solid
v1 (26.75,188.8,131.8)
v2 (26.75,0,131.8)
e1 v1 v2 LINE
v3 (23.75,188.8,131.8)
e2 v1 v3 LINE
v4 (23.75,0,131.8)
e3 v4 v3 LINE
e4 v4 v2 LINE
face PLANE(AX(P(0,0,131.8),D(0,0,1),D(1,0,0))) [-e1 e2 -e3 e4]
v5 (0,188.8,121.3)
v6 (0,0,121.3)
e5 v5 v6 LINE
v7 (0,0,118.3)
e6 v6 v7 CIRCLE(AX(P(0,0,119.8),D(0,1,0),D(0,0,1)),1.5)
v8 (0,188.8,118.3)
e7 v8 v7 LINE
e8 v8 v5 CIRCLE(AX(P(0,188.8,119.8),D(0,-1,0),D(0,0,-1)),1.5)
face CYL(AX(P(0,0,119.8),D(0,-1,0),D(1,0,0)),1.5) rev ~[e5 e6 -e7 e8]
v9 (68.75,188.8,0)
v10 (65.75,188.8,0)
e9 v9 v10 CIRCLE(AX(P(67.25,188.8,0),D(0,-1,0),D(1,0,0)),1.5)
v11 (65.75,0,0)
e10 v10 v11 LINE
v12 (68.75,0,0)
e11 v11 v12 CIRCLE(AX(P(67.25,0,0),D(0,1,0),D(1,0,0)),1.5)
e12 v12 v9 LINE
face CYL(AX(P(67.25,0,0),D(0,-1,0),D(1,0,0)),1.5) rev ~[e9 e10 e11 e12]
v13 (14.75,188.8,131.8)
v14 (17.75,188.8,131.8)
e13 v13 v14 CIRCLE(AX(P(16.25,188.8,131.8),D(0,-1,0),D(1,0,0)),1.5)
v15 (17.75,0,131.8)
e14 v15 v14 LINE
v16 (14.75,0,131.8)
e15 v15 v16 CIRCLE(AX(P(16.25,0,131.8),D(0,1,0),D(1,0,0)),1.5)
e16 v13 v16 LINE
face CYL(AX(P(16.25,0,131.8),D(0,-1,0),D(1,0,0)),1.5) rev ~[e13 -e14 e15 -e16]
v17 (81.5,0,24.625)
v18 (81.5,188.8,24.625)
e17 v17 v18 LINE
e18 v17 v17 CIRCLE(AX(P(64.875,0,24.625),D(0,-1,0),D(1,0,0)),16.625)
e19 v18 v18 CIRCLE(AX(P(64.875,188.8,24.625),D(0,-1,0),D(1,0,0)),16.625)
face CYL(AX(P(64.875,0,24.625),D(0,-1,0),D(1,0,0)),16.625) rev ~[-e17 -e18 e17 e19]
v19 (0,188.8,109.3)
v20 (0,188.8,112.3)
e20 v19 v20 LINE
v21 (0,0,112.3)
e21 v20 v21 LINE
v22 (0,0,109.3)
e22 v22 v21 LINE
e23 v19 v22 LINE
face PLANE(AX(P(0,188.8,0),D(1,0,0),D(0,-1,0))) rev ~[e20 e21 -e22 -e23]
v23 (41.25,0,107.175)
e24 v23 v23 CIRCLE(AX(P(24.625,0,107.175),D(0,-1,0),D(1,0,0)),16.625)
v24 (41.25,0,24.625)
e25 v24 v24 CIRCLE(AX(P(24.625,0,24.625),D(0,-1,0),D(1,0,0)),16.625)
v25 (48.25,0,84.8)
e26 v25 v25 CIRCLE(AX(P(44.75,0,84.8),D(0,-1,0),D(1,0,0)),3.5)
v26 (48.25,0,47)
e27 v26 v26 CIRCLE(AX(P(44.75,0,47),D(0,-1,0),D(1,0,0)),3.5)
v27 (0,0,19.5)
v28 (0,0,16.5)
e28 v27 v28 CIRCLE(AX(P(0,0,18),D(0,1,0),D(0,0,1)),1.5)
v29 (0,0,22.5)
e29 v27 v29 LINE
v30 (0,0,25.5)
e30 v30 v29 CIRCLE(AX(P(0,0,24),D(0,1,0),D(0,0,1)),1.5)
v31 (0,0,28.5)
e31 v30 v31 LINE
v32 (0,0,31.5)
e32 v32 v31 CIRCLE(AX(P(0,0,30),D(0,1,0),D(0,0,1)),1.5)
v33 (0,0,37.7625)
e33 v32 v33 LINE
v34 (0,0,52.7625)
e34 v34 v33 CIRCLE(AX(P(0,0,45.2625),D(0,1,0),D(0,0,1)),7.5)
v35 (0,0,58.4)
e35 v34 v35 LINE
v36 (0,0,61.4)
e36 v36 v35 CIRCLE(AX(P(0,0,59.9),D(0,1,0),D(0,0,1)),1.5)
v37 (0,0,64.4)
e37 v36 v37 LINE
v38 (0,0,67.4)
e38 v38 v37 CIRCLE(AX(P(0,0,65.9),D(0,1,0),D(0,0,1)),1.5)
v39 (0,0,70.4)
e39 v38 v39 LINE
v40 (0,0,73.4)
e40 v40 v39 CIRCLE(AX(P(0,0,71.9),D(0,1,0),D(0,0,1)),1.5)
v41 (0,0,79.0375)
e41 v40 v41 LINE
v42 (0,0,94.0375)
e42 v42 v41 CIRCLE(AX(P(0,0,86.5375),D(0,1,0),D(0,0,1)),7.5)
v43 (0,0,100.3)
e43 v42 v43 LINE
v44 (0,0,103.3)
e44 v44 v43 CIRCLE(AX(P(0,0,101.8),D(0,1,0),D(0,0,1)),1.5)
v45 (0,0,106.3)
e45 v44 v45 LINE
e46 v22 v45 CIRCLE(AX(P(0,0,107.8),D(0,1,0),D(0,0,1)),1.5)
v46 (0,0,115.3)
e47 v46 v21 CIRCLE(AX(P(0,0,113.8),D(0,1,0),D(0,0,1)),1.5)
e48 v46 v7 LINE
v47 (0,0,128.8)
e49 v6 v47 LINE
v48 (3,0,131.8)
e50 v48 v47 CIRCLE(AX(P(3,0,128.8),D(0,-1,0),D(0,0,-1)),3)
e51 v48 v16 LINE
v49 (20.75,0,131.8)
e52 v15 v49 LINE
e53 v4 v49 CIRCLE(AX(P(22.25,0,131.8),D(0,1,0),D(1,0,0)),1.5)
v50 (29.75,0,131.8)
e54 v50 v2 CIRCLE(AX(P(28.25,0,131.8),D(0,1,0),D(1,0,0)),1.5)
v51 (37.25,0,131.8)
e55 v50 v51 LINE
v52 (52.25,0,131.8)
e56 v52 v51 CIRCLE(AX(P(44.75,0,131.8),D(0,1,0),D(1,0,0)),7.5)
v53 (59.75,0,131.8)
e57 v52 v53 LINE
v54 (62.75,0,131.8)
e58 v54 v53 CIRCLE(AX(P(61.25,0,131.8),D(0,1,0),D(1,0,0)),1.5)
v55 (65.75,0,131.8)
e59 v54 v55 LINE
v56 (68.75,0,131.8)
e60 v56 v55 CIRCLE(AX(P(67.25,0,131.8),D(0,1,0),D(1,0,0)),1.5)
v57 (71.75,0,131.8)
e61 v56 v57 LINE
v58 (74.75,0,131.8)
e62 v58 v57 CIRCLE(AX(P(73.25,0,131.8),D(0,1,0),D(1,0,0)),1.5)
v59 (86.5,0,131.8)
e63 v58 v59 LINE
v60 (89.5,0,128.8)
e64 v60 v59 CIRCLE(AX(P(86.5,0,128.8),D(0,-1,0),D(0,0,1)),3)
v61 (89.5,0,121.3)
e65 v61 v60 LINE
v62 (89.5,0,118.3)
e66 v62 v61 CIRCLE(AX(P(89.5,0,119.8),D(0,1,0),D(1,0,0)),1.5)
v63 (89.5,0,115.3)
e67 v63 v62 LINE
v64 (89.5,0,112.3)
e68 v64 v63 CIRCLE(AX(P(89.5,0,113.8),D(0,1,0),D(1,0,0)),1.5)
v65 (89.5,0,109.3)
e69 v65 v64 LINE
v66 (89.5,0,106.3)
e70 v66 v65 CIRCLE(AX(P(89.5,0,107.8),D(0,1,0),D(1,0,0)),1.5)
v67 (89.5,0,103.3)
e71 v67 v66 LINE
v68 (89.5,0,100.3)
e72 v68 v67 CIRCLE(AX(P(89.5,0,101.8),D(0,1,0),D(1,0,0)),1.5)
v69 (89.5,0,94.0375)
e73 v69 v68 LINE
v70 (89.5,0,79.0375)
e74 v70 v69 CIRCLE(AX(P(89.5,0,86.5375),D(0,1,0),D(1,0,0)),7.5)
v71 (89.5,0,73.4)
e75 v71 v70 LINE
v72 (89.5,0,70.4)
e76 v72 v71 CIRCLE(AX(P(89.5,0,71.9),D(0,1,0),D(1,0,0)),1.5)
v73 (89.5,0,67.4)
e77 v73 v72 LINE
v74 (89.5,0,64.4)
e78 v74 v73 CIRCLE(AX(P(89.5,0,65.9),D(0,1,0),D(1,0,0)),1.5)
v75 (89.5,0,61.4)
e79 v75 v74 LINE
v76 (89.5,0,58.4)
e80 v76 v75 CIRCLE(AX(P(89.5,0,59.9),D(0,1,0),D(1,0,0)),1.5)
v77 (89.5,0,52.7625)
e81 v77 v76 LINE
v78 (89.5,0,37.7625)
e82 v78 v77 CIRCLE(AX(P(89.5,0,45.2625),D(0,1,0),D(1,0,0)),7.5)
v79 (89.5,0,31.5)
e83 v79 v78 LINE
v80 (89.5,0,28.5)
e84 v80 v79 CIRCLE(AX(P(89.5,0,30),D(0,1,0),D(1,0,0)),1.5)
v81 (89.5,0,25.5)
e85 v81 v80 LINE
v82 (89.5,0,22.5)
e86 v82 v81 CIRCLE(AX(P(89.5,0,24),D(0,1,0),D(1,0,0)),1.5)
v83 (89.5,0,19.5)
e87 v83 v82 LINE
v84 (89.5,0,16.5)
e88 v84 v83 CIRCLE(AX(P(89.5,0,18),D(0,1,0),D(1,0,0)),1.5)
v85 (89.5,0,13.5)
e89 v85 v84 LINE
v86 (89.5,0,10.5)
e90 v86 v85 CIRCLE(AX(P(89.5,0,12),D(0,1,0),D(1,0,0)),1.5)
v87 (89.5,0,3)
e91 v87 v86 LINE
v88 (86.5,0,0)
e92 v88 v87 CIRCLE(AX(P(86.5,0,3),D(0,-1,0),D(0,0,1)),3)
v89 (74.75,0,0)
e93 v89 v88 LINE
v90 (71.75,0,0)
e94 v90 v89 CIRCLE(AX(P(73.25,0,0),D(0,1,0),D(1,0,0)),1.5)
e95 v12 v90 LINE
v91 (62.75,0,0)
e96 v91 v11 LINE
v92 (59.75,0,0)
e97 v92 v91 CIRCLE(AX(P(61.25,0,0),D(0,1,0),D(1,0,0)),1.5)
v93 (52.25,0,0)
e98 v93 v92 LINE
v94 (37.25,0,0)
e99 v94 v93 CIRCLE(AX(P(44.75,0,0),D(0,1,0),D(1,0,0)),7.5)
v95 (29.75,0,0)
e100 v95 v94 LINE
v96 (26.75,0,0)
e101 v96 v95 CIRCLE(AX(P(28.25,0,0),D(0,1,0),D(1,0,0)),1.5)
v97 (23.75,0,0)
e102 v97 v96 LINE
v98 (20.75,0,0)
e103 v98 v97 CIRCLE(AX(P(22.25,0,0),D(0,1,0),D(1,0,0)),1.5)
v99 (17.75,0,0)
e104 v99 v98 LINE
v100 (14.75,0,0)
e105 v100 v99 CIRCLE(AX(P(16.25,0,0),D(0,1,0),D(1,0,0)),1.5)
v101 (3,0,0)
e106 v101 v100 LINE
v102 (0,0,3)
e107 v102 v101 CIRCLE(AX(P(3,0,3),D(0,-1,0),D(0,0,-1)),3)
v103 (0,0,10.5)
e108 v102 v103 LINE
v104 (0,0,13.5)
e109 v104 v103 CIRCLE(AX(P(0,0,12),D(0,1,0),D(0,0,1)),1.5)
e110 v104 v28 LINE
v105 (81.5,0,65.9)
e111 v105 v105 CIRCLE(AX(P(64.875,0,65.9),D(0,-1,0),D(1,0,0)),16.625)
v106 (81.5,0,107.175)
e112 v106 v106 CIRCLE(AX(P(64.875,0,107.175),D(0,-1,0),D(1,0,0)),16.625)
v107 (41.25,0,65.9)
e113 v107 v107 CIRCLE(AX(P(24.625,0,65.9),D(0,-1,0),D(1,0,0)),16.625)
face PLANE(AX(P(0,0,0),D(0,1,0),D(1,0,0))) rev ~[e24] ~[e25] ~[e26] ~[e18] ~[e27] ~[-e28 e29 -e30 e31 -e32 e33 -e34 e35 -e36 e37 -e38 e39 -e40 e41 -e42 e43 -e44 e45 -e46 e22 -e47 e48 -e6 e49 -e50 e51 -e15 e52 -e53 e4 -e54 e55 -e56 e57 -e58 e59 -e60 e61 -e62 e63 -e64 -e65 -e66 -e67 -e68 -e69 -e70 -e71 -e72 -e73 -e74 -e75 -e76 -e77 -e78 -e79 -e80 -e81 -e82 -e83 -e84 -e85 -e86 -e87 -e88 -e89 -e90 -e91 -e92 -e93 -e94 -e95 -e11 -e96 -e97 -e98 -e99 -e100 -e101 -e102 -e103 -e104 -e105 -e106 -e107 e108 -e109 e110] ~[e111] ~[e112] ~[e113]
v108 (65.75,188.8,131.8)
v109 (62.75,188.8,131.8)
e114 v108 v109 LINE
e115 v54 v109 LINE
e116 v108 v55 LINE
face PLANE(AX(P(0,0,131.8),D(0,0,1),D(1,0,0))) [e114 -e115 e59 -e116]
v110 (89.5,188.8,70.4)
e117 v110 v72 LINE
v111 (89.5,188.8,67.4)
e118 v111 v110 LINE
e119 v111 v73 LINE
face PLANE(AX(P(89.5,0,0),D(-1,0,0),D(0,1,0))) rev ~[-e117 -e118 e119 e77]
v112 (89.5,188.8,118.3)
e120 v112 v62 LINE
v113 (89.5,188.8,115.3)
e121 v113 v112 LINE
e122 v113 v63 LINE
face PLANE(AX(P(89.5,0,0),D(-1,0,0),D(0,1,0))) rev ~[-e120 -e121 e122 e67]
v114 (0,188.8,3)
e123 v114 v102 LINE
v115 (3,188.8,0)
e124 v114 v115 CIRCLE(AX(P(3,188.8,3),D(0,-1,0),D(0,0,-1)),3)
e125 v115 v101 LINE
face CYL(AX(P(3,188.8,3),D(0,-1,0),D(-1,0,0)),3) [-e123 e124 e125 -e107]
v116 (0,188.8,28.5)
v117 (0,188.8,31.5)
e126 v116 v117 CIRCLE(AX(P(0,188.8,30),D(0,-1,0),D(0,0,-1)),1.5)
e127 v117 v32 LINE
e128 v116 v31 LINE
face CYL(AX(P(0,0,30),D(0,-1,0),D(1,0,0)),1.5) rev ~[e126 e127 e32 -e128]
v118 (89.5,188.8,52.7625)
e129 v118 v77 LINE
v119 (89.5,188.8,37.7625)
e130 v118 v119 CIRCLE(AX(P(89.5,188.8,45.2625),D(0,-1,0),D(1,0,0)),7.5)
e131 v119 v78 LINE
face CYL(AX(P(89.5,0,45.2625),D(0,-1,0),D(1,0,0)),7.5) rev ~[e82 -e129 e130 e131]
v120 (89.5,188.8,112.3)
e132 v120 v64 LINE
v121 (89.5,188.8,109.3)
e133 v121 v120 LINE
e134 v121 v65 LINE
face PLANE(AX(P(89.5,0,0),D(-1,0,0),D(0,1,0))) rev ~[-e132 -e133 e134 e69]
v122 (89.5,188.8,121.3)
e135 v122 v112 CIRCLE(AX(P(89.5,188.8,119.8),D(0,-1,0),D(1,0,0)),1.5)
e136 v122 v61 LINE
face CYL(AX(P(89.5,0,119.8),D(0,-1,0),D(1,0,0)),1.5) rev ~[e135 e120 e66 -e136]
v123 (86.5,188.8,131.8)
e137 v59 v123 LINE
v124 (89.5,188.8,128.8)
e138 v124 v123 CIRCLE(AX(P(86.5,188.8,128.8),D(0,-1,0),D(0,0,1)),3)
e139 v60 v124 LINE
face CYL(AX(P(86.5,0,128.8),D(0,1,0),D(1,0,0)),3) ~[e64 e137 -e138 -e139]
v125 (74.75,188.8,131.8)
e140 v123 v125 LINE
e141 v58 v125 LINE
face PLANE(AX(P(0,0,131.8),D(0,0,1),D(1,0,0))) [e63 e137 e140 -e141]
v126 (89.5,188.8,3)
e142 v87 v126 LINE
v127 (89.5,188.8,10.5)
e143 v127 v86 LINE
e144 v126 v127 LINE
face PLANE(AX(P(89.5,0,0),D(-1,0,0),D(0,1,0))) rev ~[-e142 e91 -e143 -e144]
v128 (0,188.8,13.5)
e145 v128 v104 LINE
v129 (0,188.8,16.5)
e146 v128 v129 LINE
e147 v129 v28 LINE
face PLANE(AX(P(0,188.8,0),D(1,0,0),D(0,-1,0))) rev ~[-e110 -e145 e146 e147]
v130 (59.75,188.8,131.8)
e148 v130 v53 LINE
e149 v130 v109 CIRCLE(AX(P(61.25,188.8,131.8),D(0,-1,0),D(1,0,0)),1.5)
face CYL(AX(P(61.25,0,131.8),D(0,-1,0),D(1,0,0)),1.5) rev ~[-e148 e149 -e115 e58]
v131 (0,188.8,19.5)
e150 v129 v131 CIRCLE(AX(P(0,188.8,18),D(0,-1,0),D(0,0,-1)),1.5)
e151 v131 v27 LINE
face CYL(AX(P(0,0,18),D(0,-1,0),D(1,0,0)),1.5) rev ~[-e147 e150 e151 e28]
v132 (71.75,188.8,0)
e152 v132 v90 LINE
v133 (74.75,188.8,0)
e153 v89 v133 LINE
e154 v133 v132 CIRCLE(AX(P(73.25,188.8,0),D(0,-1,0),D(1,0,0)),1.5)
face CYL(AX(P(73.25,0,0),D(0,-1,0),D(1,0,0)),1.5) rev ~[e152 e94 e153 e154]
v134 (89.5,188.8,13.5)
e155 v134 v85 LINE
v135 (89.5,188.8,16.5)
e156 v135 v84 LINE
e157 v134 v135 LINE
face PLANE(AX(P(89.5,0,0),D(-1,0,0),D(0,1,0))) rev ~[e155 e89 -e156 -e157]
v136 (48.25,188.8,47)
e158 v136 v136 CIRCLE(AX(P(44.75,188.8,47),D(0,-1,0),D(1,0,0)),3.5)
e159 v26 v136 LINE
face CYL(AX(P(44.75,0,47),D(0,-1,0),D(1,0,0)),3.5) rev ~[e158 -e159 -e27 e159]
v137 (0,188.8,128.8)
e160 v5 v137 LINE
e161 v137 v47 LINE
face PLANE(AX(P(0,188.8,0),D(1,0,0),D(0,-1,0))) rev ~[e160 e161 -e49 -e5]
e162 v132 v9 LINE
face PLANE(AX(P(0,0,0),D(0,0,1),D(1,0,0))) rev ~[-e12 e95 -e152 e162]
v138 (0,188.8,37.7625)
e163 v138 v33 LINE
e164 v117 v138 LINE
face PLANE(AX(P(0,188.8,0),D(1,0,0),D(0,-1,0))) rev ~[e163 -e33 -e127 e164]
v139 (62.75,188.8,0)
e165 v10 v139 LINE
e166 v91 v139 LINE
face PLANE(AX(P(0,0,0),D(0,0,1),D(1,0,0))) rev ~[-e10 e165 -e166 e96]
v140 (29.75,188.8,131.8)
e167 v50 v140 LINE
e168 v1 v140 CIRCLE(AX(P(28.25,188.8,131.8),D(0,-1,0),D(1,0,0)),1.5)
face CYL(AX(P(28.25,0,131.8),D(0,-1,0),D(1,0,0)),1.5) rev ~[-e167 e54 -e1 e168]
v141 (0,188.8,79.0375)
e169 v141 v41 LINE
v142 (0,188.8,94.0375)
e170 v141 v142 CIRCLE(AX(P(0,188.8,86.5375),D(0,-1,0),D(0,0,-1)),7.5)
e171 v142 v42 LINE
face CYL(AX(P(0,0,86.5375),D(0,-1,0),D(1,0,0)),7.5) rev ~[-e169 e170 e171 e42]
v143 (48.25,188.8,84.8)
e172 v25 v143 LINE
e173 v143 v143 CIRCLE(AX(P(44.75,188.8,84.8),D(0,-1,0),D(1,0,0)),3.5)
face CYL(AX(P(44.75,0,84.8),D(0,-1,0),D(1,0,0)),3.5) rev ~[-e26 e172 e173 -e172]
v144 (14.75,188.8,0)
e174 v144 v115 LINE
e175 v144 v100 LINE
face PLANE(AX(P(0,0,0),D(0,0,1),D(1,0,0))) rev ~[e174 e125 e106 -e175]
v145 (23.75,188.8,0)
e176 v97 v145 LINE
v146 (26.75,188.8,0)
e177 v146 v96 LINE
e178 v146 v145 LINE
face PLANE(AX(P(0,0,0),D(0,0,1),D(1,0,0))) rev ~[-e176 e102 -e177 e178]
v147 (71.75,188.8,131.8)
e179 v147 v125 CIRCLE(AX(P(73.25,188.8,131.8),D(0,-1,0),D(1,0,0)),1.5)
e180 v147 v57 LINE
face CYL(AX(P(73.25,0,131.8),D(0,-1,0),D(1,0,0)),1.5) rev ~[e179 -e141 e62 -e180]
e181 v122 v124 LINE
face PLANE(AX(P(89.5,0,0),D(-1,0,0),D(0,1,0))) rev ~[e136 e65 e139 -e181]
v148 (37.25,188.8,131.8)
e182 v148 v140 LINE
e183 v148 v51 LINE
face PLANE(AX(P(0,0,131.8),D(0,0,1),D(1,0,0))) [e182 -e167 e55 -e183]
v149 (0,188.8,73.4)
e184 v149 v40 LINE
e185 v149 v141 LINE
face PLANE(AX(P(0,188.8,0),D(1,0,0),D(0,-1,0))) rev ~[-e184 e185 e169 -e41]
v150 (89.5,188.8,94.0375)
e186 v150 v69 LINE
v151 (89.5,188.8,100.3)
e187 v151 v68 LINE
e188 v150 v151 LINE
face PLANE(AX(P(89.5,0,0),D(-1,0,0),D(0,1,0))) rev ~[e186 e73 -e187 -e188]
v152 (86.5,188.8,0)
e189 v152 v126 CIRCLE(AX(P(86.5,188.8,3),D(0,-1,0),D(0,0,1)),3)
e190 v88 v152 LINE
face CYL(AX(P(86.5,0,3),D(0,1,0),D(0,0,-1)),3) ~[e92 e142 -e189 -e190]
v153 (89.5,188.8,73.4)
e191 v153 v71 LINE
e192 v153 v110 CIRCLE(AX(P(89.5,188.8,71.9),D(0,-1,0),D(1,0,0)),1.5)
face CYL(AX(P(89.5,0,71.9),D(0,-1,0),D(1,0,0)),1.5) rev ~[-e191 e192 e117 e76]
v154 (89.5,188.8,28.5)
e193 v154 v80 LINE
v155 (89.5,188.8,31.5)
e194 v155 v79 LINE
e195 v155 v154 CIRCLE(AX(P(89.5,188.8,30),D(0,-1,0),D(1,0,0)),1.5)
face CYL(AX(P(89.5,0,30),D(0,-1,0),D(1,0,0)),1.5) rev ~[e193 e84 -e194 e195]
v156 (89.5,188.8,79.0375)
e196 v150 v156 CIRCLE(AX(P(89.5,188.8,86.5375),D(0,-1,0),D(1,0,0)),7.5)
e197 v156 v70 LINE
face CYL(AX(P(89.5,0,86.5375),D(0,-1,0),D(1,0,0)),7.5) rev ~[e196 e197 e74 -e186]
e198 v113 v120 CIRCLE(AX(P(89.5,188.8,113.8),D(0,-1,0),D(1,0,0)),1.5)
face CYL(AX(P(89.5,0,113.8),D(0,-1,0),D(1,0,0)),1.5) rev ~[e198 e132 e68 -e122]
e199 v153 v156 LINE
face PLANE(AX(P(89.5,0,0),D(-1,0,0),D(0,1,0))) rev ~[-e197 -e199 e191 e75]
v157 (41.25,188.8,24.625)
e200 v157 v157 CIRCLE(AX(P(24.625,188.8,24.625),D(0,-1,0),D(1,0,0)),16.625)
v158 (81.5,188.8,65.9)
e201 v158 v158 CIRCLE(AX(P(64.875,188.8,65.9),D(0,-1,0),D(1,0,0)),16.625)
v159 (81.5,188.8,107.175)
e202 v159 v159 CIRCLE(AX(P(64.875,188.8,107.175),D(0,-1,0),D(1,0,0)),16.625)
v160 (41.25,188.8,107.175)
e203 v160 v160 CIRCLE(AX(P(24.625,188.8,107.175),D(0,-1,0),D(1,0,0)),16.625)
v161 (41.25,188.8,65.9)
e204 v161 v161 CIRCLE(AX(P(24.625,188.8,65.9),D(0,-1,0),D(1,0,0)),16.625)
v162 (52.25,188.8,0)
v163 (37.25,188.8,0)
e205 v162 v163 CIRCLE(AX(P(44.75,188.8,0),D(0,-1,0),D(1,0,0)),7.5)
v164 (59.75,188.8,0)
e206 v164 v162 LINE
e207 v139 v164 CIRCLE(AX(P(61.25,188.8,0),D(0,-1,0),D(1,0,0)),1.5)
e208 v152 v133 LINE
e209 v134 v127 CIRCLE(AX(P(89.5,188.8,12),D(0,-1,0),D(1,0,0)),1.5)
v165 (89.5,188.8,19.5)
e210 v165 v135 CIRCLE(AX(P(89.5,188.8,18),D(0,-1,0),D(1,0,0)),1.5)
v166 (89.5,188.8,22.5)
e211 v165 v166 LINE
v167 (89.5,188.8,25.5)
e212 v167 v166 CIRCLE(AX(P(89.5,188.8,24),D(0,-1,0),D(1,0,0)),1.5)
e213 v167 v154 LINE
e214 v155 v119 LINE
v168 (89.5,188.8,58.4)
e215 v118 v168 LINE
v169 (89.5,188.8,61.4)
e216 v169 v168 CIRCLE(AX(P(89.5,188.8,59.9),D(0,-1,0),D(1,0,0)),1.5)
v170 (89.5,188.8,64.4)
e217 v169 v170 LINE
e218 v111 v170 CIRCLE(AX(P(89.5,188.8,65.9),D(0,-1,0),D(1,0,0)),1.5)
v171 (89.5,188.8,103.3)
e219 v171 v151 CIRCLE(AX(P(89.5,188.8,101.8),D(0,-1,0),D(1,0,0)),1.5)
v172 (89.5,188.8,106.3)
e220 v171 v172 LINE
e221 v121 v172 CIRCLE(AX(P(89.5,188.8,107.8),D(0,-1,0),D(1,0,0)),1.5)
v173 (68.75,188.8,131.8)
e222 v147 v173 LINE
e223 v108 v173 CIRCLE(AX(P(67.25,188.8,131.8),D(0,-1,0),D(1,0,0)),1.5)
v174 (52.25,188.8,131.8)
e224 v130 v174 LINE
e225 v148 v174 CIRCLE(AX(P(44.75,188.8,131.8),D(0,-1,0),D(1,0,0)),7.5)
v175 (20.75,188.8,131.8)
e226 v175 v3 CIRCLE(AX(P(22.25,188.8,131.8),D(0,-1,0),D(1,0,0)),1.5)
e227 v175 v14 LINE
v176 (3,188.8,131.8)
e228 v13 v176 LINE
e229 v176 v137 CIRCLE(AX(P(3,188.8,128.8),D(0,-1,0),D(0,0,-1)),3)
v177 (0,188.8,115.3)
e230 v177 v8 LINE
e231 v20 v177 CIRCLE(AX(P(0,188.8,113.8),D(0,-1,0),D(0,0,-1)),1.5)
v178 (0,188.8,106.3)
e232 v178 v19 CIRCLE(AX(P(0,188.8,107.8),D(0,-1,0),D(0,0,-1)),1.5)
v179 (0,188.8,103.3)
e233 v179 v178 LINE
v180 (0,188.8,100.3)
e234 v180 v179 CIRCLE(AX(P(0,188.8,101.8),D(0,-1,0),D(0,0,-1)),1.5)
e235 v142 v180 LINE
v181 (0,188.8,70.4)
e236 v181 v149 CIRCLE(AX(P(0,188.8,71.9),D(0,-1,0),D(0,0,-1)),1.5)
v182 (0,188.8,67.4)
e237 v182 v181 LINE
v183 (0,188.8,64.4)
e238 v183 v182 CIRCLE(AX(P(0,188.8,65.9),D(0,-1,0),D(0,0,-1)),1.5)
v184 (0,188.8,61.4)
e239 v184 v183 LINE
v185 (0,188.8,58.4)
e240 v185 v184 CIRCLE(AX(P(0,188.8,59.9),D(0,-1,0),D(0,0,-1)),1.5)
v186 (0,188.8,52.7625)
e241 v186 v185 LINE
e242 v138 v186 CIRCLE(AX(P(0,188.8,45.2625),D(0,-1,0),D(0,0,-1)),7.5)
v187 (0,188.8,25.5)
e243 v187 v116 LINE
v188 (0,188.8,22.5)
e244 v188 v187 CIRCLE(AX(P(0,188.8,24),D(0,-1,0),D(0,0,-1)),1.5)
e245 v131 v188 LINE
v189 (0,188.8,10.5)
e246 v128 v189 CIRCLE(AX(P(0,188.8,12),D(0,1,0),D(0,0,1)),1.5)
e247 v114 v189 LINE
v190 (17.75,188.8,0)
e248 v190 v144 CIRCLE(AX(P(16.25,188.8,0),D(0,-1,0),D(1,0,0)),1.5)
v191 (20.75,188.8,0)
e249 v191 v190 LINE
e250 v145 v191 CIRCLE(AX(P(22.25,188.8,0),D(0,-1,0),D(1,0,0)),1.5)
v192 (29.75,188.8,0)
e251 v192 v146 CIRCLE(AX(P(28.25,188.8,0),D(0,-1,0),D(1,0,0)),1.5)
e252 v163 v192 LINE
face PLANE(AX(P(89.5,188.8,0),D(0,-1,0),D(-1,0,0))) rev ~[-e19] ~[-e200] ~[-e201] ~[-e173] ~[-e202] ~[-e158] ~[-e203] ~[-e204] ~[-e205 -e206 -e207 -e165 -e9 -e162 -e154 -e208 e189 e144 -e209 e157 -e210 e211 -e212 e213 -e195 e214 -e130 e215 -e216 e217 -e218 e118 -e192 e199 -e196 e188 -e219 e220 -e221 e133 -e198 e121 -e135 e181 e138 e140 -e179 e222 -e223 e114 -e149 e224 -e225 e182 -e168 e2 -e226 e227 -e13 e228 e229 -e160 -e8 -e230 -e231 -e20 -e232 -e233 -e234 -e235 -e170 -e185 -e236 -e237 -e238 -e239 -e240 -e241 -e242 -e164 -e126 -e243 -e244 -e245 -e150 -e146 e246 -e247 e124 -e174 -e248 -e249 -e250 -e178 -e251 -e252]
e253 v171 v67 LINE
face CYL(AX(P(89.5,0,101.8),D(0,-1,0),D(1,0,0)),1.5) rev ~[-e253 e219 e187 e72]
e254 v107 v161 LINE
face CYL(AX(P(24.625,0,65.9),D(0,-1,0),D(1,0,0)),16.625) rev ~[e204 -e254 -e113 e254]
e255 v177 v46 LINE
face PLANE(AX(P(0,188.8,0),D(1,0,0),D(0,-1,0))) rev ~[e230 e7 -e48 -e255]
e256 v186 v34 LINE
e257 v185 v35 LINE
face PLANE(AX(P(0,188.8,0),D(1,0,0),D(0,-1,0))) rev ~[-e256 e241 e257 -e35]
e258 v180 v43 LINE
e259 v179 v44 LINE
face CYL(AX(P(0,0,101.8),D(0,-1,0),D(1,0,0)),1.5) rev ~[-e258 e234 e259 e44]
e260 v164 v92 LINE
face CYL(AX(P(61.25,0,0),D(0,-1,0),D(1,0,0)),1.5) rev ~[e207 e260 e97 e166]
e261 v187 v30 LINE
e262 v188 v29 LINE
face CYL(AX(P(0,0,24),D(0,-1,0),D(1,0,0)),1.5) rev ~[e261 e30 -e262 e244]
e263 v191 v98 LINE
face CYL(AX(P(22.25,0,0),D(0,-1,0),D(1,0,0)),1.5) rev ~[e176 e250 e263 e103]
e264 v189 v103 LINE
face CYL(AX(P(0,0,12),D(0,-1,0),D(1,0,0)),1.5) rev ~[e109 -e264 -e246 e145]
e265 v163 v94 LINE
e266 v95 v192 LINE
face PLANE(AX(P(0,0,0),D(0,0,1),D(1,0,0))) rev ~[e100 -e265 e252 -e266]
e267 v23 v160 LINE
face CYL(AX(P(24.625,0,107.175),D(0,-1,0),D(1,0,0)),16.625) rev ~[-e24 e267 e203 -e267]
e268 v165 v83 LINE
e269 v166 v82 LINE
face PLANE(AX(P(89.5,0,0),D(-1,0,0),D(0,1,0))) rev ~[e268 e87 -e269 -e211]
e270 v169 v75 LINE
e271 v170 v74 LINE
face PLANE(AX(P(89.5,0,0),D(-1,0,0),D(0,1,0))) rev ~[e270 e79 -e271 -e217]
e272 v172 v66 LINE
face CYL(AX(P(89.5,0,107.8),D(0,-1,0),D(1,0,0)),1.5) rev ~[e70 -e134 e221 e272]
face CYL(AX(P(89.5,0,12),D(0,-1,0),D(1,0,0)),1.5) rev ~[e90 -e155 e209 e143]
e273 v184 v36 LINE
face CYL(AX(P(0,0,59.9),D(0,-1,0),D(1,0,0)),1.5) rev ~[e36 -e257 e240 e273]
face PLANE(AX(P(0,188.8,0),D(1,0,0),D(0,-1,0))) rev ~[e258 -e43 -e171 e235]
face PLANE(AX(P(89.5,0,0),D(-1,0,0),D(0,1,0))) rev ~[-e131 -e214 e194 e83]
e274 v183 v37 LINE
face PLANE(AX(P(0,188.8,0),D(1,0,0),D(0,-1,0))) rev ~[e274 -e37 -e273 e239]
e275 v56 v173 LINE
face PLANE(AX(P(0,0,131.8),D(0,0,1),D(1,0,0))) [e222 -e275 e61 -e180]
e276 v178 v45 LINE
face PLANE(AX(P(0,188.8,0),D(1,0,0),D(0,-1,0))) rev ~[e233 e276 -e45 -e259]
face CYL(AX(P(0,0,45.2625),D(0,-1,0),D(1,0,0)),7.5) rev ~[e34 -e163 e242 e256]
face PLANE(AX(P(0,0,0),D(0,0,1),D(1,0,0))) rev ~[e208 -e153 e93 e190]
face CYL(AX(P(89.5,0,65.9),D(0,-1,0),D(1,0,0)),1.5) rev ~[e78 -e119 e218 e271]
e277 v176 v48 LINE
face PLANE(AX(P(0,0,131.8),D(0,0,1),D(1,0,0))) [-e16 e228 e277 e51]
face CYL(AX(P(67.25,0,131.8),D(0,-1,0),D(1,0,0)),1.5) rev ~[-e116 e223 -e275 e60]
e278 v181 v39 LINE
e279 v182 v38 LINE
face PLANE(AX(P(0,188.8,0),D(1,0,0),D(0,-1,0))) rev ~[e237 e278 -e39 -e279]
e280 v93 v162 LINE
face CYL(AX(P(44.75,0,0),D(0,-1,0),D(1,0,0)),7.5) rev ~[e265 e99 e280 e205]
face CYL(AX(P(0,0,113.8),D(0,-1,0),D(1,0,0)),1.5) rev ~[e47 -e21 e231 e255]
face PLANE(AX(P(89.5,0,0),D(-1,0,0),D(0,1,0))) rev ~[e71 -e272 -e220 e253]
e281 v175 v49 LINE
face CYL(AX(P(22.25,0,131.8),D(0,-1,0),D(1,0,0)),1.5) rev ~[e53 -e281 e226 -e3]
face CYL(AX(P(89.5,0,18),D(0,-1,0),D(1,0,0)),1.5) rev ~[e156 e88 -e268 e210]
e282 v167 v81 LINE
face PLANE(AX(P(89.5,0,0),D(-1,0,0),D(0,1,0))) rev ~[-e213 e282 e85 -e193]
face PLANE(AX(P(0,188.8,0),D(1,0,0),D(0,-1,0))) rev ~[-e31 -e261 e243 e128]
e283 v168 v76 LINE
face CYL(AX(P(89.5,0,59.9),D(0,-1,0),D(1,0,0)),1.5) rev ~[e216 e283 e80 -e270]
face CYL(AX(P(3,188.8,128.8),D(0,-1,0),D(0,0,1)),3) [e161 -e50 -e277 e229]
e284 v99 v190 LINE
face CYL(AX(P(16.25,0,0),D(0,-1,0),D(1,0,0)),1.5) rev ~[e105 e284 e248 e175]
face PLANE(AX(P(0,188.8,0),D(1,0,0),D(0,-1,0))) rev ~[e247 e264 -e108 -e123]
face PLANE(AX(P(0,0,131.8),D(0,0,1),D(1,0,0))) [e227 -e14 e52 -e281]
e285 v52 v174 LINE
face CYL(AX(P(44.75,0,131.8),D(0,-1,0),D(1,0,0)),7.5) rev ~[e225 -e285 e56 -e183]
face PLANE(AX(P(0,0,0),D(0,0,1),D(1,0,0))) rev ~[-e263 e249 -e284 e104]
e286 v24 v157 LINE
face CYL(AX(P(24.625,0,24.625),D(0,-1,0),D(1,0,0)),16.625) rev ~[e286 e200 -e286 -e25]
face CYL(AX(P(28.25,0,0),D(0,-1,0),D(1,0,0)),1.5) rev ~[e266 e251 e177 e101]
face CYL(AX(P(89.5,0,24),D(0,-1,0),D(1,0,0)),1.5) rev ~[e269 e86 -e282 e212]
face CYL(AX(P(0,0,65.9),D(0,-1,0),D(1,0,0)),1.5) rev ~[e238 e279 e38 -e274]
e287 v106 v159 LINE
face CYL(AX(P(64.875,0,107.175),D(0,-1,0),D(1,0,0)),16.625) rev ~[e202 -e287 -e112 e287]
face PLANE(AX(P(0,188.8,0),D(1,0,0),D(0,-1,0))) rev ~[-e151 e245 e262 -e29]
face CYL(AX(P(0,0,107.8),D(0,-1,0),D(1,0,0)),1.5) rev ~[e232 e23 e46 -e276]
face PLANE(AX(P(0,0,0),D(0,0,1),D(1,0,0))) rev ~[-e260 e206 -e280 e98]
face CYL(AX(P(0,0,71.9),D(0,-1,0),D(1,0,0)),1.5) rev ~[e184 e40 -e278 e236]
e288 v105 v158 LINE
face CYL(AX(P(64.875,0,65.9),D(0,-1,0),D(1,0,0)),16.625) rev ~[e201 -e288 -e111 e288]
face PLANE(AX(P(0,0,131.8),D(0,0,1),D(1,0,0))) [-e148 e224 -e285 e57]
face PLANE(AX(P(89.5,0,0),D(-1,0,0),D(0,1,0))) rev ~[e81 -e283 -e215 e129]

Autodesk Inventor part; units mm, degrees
ref_plane "YZ Plane" through (0, 0, 0) normal (1, 0, 0) x (0, 1, 0)
ref_plane "XZ Plane" through (0, 0, 0) normal (0, 1, 0) x (-1, 0, 0)
ref_plane "XY Plane" through (0, 0, 0) normal (0, 0, 1) x (1, 0, 0)
sketch "Sketch1" plane through (0, 0, 0) normal (0, 0, 1) x (1, 0, 0)
  line L0 (0, 0) -> (89.5, 0)
  line L1 (89.5, 0) -> (89.5, 188.8)
  line L2 (89.5, 188.8) -> (0, 188.8)
  line L3 (0, 188.8) -> (0, 0)
  dimension "d0" = 89.5
  dimension "d1" = 188.8
extrude "Corpo" add sketch "Sketch1" along normal blind 131.8
sketch "Furações" plane through (0, 0, 0) normal (0, -1, 0) x (1, 0, 0)
  line L0 (89.5, 131.8) -> (0, 131.8) projected
  line L1 (89.5, 0) -> (0, 0) projected
  line L2 (44.75, 131.8) -> (44.75, 84.8) construction
  line L3 (44.75, 0) -> (44.75, 47) construction
  circle A0 centre (44.75, 84.8) radius 3.5
  circle A1 centre (44.75, 47) radius 3.5
  line L4 (89.5, 123.8) -> (0, 123.8) construction
  line L5 (8, 0) -> (8, 131.8) construction
  line L6 (41.25, 131.8) -> (41.25, 84.8) construction
  circle A2 centre (24.625, 107.175) radius 16.625
  line L7 (0, 0) -> (0, 131.8) construction
  line L8 (0, 65.9) -> (89.5, 65.9) construction
  line L9 (89.5, 0) -> (89.5, 131.8) projected
  line L10 (24.625, 131.8) -> (156.425, 131.8) construction
  circle A3 centre (24.625, 65.9) radius 16.625
  line L11 (0, 8) -> (89.5, 8) construction
  line L12 (41.25, 0) -> (41.25, 47) construction
  circle A4 centre (24.625, 24.625) radius 16.625
  circle A5 centre (64.875, 107.175) radius 16.625
  circle A6 centre (64.875, 65.9) radius 16.625
  circle A7 centre (64.875, 24.625) radius 16.625
  circle A8 centre (44.75, 131.8) radius 7.5
  circle A9 centre (44.75, 0) radius 7.5
  line L13 (24.625, 131.8) -> (24.625, 123.8) construction
  line L14 (24.625, 90.55) -> (24.625, 82.525) construction
  line L15 (24.625, 49.275) -> (24.625, 41.25) construction
  line L16 (24.625, 8) -> (24.625, 0) construction
  line L17 (24.625, 86.5375) -> (0, 86.5375) construction
  line L18 (24.625, 45.2625) -> (0, 45.2625) construction
  circle A10 centre (0, 86.5375) radius 7.5
  circle A11 centre (0, 45.2625) radius 7.5
  circle A12 centre (89.5, 86.5375) radius 7.5
  circle A13 centre (89.5, 45.2625) radius 7.5
  line L19 (0, 123.8) -> (0, 119.8) construction
  circle A14 centre (0, 119.8) radius 1.5
  line L20 (0, 119.8) -> (0, 113.8) construction
  circle A15 centre (0, 113.8) radius 1.5
  line L21 (0, 113.8) -> (0, 107.8) construction
  circle A16 centre (0, 107.8) radius 1.5
  line L22 (0, 107.8) -> (0, 101.8) construction
  circle A17 centre (0, 101.8) radius 1.5
  circle A18 centre (0, 65.9) radius 1.5
  line L23 (0, 65.9) -> (0, 71.9) construction
  line L24 (0, 65.9) -> (0, 59.9) construction
  circle A19 centre (0, 71.9) radius 1.5
  circle A20 centre (0, 59.9) radius 1.5
  line L25 (0, 8) -> (0, 12) construction
  circle A21 centre (0, 12) radius 1.5
  line L26 (0, 12) -> (0, 18) construction
  circle A22 centre (0, 18) radius 1.5
  line L27 (0, 18) -> (0, 24) construction
  circle A23 centre (0, 24) radius 1.5
  line L28 (0, 24) -> (0, 30) construction
  circle A24 centre (0, 30) radius 1.5
  line L29 (37.25, 0) -> (28.25, 0) construction
  circle A25 centre (28.25, 0) radius 1.5
  line L30 (28.25, 0) -> (22.25, 0) construction
  circle A26 centre (22.25, 0) radius 1.5
  line L31 (22.25, 0) -> (16.25, 0) construction
  circle A27 centre (16.25, 0) radius 1.5
  circle A28 centre (28.25, 131.8) radius 1.5
  line L32 (28.25, 131.8) -> (22.25, 131.8) construction
  circle A29 centre (22.25, 131.8) radius 1.5
  line L33 (22.25, 131.8) -> (16.25, 131.8) construction
  circle A30 centre (16.25, 131.8) radius 1.5
  circle A31 centre (89.5, 119.8) radius 1.5
  circle A32 centre (89.5, 113.8) radius 1.5
  circle A33 centre (89.5, 107.8) radius 1.5
  circle A34 centre (89.5, 101.8) radius 1.5
  circle A35 centre (89.5, 65.9) radius 1.5
  circle A36 centre (89.5, 71.9) radius 1.5
  circle A37 centre (89.5, 59.9) radius 1.5
  circle A38 centre (89.5, 12) radius 1.5
  circle A39 centre (89.5, 18) radius 1.5
  circle A40 centre (89.5, 24) radius 1.5
  circle A41 centre (89.5, 30) radius 1.5
  circle A42 centre (61.25, 0) radius 1.5
  circle A43 centre (67.25, 0) radius 1.5
  circle A44 centre (73.25, 0) radius 1.5
  circle A45 centre (73.25, 131.8) radius 1.5
  circle A46 centre (67.25, 131.8) radius 1.5
  circle A47 centre (61.25, 131.8) radius 1.5
  dimension "d4" = 47
  dimension "d5" = 47
  dimension "d6" = 7
  dimension "d7" = 7
  dimension "d8" = 8
  dimension "d9" = 8
  dimension "d10" = 3.5
  dimension "d12" = 33.25
  dimension "d13" = 3.5
  dimension "d14" = 15
  dimension "d15" = 15
  dimension "d16" = 15
  dimension "d17" = 4
  dimension "d18" = 3
  dimension "d19" = 6
  dimension "d20" = 3
  dimension "d21" = 6
  dimension "d22" = 3
  dimension "d23" = 6
  dimension "d24" = 3
  dimension "d25" = 3
  dimension "d26" = 6
  dimension "d27" = 6
  dimension "d28" = 3
  dimension "d29" = 3
  dimension "d30" = 4
  dimension "d31" = 3
  dimension "d32" = 6
  dimension "d33" = 3
  dimension "d34" = 6
  dimension "d35" = 3
  dimension "d36" = 6
  dimension "d37" = 3
  dimension "d38" = 9
  dimension "d39" = 3
  dimension "d40" = 6
  dimension "d41" = 3
  dimension "d42" = 6
  dimension "d43" = 3
extrude "furação" cut sketch "Furações" against normal up to surface (188.8 mm away)
fillet "Fillet1" radius 3 4 edges at (0, 94.4, 131.8) (89.5, 94.4, 131.8) (89.5, 94.4, 0) (0, 94.4, 0)
properties part number "Tijolo 9x19cm" material "Gold"
